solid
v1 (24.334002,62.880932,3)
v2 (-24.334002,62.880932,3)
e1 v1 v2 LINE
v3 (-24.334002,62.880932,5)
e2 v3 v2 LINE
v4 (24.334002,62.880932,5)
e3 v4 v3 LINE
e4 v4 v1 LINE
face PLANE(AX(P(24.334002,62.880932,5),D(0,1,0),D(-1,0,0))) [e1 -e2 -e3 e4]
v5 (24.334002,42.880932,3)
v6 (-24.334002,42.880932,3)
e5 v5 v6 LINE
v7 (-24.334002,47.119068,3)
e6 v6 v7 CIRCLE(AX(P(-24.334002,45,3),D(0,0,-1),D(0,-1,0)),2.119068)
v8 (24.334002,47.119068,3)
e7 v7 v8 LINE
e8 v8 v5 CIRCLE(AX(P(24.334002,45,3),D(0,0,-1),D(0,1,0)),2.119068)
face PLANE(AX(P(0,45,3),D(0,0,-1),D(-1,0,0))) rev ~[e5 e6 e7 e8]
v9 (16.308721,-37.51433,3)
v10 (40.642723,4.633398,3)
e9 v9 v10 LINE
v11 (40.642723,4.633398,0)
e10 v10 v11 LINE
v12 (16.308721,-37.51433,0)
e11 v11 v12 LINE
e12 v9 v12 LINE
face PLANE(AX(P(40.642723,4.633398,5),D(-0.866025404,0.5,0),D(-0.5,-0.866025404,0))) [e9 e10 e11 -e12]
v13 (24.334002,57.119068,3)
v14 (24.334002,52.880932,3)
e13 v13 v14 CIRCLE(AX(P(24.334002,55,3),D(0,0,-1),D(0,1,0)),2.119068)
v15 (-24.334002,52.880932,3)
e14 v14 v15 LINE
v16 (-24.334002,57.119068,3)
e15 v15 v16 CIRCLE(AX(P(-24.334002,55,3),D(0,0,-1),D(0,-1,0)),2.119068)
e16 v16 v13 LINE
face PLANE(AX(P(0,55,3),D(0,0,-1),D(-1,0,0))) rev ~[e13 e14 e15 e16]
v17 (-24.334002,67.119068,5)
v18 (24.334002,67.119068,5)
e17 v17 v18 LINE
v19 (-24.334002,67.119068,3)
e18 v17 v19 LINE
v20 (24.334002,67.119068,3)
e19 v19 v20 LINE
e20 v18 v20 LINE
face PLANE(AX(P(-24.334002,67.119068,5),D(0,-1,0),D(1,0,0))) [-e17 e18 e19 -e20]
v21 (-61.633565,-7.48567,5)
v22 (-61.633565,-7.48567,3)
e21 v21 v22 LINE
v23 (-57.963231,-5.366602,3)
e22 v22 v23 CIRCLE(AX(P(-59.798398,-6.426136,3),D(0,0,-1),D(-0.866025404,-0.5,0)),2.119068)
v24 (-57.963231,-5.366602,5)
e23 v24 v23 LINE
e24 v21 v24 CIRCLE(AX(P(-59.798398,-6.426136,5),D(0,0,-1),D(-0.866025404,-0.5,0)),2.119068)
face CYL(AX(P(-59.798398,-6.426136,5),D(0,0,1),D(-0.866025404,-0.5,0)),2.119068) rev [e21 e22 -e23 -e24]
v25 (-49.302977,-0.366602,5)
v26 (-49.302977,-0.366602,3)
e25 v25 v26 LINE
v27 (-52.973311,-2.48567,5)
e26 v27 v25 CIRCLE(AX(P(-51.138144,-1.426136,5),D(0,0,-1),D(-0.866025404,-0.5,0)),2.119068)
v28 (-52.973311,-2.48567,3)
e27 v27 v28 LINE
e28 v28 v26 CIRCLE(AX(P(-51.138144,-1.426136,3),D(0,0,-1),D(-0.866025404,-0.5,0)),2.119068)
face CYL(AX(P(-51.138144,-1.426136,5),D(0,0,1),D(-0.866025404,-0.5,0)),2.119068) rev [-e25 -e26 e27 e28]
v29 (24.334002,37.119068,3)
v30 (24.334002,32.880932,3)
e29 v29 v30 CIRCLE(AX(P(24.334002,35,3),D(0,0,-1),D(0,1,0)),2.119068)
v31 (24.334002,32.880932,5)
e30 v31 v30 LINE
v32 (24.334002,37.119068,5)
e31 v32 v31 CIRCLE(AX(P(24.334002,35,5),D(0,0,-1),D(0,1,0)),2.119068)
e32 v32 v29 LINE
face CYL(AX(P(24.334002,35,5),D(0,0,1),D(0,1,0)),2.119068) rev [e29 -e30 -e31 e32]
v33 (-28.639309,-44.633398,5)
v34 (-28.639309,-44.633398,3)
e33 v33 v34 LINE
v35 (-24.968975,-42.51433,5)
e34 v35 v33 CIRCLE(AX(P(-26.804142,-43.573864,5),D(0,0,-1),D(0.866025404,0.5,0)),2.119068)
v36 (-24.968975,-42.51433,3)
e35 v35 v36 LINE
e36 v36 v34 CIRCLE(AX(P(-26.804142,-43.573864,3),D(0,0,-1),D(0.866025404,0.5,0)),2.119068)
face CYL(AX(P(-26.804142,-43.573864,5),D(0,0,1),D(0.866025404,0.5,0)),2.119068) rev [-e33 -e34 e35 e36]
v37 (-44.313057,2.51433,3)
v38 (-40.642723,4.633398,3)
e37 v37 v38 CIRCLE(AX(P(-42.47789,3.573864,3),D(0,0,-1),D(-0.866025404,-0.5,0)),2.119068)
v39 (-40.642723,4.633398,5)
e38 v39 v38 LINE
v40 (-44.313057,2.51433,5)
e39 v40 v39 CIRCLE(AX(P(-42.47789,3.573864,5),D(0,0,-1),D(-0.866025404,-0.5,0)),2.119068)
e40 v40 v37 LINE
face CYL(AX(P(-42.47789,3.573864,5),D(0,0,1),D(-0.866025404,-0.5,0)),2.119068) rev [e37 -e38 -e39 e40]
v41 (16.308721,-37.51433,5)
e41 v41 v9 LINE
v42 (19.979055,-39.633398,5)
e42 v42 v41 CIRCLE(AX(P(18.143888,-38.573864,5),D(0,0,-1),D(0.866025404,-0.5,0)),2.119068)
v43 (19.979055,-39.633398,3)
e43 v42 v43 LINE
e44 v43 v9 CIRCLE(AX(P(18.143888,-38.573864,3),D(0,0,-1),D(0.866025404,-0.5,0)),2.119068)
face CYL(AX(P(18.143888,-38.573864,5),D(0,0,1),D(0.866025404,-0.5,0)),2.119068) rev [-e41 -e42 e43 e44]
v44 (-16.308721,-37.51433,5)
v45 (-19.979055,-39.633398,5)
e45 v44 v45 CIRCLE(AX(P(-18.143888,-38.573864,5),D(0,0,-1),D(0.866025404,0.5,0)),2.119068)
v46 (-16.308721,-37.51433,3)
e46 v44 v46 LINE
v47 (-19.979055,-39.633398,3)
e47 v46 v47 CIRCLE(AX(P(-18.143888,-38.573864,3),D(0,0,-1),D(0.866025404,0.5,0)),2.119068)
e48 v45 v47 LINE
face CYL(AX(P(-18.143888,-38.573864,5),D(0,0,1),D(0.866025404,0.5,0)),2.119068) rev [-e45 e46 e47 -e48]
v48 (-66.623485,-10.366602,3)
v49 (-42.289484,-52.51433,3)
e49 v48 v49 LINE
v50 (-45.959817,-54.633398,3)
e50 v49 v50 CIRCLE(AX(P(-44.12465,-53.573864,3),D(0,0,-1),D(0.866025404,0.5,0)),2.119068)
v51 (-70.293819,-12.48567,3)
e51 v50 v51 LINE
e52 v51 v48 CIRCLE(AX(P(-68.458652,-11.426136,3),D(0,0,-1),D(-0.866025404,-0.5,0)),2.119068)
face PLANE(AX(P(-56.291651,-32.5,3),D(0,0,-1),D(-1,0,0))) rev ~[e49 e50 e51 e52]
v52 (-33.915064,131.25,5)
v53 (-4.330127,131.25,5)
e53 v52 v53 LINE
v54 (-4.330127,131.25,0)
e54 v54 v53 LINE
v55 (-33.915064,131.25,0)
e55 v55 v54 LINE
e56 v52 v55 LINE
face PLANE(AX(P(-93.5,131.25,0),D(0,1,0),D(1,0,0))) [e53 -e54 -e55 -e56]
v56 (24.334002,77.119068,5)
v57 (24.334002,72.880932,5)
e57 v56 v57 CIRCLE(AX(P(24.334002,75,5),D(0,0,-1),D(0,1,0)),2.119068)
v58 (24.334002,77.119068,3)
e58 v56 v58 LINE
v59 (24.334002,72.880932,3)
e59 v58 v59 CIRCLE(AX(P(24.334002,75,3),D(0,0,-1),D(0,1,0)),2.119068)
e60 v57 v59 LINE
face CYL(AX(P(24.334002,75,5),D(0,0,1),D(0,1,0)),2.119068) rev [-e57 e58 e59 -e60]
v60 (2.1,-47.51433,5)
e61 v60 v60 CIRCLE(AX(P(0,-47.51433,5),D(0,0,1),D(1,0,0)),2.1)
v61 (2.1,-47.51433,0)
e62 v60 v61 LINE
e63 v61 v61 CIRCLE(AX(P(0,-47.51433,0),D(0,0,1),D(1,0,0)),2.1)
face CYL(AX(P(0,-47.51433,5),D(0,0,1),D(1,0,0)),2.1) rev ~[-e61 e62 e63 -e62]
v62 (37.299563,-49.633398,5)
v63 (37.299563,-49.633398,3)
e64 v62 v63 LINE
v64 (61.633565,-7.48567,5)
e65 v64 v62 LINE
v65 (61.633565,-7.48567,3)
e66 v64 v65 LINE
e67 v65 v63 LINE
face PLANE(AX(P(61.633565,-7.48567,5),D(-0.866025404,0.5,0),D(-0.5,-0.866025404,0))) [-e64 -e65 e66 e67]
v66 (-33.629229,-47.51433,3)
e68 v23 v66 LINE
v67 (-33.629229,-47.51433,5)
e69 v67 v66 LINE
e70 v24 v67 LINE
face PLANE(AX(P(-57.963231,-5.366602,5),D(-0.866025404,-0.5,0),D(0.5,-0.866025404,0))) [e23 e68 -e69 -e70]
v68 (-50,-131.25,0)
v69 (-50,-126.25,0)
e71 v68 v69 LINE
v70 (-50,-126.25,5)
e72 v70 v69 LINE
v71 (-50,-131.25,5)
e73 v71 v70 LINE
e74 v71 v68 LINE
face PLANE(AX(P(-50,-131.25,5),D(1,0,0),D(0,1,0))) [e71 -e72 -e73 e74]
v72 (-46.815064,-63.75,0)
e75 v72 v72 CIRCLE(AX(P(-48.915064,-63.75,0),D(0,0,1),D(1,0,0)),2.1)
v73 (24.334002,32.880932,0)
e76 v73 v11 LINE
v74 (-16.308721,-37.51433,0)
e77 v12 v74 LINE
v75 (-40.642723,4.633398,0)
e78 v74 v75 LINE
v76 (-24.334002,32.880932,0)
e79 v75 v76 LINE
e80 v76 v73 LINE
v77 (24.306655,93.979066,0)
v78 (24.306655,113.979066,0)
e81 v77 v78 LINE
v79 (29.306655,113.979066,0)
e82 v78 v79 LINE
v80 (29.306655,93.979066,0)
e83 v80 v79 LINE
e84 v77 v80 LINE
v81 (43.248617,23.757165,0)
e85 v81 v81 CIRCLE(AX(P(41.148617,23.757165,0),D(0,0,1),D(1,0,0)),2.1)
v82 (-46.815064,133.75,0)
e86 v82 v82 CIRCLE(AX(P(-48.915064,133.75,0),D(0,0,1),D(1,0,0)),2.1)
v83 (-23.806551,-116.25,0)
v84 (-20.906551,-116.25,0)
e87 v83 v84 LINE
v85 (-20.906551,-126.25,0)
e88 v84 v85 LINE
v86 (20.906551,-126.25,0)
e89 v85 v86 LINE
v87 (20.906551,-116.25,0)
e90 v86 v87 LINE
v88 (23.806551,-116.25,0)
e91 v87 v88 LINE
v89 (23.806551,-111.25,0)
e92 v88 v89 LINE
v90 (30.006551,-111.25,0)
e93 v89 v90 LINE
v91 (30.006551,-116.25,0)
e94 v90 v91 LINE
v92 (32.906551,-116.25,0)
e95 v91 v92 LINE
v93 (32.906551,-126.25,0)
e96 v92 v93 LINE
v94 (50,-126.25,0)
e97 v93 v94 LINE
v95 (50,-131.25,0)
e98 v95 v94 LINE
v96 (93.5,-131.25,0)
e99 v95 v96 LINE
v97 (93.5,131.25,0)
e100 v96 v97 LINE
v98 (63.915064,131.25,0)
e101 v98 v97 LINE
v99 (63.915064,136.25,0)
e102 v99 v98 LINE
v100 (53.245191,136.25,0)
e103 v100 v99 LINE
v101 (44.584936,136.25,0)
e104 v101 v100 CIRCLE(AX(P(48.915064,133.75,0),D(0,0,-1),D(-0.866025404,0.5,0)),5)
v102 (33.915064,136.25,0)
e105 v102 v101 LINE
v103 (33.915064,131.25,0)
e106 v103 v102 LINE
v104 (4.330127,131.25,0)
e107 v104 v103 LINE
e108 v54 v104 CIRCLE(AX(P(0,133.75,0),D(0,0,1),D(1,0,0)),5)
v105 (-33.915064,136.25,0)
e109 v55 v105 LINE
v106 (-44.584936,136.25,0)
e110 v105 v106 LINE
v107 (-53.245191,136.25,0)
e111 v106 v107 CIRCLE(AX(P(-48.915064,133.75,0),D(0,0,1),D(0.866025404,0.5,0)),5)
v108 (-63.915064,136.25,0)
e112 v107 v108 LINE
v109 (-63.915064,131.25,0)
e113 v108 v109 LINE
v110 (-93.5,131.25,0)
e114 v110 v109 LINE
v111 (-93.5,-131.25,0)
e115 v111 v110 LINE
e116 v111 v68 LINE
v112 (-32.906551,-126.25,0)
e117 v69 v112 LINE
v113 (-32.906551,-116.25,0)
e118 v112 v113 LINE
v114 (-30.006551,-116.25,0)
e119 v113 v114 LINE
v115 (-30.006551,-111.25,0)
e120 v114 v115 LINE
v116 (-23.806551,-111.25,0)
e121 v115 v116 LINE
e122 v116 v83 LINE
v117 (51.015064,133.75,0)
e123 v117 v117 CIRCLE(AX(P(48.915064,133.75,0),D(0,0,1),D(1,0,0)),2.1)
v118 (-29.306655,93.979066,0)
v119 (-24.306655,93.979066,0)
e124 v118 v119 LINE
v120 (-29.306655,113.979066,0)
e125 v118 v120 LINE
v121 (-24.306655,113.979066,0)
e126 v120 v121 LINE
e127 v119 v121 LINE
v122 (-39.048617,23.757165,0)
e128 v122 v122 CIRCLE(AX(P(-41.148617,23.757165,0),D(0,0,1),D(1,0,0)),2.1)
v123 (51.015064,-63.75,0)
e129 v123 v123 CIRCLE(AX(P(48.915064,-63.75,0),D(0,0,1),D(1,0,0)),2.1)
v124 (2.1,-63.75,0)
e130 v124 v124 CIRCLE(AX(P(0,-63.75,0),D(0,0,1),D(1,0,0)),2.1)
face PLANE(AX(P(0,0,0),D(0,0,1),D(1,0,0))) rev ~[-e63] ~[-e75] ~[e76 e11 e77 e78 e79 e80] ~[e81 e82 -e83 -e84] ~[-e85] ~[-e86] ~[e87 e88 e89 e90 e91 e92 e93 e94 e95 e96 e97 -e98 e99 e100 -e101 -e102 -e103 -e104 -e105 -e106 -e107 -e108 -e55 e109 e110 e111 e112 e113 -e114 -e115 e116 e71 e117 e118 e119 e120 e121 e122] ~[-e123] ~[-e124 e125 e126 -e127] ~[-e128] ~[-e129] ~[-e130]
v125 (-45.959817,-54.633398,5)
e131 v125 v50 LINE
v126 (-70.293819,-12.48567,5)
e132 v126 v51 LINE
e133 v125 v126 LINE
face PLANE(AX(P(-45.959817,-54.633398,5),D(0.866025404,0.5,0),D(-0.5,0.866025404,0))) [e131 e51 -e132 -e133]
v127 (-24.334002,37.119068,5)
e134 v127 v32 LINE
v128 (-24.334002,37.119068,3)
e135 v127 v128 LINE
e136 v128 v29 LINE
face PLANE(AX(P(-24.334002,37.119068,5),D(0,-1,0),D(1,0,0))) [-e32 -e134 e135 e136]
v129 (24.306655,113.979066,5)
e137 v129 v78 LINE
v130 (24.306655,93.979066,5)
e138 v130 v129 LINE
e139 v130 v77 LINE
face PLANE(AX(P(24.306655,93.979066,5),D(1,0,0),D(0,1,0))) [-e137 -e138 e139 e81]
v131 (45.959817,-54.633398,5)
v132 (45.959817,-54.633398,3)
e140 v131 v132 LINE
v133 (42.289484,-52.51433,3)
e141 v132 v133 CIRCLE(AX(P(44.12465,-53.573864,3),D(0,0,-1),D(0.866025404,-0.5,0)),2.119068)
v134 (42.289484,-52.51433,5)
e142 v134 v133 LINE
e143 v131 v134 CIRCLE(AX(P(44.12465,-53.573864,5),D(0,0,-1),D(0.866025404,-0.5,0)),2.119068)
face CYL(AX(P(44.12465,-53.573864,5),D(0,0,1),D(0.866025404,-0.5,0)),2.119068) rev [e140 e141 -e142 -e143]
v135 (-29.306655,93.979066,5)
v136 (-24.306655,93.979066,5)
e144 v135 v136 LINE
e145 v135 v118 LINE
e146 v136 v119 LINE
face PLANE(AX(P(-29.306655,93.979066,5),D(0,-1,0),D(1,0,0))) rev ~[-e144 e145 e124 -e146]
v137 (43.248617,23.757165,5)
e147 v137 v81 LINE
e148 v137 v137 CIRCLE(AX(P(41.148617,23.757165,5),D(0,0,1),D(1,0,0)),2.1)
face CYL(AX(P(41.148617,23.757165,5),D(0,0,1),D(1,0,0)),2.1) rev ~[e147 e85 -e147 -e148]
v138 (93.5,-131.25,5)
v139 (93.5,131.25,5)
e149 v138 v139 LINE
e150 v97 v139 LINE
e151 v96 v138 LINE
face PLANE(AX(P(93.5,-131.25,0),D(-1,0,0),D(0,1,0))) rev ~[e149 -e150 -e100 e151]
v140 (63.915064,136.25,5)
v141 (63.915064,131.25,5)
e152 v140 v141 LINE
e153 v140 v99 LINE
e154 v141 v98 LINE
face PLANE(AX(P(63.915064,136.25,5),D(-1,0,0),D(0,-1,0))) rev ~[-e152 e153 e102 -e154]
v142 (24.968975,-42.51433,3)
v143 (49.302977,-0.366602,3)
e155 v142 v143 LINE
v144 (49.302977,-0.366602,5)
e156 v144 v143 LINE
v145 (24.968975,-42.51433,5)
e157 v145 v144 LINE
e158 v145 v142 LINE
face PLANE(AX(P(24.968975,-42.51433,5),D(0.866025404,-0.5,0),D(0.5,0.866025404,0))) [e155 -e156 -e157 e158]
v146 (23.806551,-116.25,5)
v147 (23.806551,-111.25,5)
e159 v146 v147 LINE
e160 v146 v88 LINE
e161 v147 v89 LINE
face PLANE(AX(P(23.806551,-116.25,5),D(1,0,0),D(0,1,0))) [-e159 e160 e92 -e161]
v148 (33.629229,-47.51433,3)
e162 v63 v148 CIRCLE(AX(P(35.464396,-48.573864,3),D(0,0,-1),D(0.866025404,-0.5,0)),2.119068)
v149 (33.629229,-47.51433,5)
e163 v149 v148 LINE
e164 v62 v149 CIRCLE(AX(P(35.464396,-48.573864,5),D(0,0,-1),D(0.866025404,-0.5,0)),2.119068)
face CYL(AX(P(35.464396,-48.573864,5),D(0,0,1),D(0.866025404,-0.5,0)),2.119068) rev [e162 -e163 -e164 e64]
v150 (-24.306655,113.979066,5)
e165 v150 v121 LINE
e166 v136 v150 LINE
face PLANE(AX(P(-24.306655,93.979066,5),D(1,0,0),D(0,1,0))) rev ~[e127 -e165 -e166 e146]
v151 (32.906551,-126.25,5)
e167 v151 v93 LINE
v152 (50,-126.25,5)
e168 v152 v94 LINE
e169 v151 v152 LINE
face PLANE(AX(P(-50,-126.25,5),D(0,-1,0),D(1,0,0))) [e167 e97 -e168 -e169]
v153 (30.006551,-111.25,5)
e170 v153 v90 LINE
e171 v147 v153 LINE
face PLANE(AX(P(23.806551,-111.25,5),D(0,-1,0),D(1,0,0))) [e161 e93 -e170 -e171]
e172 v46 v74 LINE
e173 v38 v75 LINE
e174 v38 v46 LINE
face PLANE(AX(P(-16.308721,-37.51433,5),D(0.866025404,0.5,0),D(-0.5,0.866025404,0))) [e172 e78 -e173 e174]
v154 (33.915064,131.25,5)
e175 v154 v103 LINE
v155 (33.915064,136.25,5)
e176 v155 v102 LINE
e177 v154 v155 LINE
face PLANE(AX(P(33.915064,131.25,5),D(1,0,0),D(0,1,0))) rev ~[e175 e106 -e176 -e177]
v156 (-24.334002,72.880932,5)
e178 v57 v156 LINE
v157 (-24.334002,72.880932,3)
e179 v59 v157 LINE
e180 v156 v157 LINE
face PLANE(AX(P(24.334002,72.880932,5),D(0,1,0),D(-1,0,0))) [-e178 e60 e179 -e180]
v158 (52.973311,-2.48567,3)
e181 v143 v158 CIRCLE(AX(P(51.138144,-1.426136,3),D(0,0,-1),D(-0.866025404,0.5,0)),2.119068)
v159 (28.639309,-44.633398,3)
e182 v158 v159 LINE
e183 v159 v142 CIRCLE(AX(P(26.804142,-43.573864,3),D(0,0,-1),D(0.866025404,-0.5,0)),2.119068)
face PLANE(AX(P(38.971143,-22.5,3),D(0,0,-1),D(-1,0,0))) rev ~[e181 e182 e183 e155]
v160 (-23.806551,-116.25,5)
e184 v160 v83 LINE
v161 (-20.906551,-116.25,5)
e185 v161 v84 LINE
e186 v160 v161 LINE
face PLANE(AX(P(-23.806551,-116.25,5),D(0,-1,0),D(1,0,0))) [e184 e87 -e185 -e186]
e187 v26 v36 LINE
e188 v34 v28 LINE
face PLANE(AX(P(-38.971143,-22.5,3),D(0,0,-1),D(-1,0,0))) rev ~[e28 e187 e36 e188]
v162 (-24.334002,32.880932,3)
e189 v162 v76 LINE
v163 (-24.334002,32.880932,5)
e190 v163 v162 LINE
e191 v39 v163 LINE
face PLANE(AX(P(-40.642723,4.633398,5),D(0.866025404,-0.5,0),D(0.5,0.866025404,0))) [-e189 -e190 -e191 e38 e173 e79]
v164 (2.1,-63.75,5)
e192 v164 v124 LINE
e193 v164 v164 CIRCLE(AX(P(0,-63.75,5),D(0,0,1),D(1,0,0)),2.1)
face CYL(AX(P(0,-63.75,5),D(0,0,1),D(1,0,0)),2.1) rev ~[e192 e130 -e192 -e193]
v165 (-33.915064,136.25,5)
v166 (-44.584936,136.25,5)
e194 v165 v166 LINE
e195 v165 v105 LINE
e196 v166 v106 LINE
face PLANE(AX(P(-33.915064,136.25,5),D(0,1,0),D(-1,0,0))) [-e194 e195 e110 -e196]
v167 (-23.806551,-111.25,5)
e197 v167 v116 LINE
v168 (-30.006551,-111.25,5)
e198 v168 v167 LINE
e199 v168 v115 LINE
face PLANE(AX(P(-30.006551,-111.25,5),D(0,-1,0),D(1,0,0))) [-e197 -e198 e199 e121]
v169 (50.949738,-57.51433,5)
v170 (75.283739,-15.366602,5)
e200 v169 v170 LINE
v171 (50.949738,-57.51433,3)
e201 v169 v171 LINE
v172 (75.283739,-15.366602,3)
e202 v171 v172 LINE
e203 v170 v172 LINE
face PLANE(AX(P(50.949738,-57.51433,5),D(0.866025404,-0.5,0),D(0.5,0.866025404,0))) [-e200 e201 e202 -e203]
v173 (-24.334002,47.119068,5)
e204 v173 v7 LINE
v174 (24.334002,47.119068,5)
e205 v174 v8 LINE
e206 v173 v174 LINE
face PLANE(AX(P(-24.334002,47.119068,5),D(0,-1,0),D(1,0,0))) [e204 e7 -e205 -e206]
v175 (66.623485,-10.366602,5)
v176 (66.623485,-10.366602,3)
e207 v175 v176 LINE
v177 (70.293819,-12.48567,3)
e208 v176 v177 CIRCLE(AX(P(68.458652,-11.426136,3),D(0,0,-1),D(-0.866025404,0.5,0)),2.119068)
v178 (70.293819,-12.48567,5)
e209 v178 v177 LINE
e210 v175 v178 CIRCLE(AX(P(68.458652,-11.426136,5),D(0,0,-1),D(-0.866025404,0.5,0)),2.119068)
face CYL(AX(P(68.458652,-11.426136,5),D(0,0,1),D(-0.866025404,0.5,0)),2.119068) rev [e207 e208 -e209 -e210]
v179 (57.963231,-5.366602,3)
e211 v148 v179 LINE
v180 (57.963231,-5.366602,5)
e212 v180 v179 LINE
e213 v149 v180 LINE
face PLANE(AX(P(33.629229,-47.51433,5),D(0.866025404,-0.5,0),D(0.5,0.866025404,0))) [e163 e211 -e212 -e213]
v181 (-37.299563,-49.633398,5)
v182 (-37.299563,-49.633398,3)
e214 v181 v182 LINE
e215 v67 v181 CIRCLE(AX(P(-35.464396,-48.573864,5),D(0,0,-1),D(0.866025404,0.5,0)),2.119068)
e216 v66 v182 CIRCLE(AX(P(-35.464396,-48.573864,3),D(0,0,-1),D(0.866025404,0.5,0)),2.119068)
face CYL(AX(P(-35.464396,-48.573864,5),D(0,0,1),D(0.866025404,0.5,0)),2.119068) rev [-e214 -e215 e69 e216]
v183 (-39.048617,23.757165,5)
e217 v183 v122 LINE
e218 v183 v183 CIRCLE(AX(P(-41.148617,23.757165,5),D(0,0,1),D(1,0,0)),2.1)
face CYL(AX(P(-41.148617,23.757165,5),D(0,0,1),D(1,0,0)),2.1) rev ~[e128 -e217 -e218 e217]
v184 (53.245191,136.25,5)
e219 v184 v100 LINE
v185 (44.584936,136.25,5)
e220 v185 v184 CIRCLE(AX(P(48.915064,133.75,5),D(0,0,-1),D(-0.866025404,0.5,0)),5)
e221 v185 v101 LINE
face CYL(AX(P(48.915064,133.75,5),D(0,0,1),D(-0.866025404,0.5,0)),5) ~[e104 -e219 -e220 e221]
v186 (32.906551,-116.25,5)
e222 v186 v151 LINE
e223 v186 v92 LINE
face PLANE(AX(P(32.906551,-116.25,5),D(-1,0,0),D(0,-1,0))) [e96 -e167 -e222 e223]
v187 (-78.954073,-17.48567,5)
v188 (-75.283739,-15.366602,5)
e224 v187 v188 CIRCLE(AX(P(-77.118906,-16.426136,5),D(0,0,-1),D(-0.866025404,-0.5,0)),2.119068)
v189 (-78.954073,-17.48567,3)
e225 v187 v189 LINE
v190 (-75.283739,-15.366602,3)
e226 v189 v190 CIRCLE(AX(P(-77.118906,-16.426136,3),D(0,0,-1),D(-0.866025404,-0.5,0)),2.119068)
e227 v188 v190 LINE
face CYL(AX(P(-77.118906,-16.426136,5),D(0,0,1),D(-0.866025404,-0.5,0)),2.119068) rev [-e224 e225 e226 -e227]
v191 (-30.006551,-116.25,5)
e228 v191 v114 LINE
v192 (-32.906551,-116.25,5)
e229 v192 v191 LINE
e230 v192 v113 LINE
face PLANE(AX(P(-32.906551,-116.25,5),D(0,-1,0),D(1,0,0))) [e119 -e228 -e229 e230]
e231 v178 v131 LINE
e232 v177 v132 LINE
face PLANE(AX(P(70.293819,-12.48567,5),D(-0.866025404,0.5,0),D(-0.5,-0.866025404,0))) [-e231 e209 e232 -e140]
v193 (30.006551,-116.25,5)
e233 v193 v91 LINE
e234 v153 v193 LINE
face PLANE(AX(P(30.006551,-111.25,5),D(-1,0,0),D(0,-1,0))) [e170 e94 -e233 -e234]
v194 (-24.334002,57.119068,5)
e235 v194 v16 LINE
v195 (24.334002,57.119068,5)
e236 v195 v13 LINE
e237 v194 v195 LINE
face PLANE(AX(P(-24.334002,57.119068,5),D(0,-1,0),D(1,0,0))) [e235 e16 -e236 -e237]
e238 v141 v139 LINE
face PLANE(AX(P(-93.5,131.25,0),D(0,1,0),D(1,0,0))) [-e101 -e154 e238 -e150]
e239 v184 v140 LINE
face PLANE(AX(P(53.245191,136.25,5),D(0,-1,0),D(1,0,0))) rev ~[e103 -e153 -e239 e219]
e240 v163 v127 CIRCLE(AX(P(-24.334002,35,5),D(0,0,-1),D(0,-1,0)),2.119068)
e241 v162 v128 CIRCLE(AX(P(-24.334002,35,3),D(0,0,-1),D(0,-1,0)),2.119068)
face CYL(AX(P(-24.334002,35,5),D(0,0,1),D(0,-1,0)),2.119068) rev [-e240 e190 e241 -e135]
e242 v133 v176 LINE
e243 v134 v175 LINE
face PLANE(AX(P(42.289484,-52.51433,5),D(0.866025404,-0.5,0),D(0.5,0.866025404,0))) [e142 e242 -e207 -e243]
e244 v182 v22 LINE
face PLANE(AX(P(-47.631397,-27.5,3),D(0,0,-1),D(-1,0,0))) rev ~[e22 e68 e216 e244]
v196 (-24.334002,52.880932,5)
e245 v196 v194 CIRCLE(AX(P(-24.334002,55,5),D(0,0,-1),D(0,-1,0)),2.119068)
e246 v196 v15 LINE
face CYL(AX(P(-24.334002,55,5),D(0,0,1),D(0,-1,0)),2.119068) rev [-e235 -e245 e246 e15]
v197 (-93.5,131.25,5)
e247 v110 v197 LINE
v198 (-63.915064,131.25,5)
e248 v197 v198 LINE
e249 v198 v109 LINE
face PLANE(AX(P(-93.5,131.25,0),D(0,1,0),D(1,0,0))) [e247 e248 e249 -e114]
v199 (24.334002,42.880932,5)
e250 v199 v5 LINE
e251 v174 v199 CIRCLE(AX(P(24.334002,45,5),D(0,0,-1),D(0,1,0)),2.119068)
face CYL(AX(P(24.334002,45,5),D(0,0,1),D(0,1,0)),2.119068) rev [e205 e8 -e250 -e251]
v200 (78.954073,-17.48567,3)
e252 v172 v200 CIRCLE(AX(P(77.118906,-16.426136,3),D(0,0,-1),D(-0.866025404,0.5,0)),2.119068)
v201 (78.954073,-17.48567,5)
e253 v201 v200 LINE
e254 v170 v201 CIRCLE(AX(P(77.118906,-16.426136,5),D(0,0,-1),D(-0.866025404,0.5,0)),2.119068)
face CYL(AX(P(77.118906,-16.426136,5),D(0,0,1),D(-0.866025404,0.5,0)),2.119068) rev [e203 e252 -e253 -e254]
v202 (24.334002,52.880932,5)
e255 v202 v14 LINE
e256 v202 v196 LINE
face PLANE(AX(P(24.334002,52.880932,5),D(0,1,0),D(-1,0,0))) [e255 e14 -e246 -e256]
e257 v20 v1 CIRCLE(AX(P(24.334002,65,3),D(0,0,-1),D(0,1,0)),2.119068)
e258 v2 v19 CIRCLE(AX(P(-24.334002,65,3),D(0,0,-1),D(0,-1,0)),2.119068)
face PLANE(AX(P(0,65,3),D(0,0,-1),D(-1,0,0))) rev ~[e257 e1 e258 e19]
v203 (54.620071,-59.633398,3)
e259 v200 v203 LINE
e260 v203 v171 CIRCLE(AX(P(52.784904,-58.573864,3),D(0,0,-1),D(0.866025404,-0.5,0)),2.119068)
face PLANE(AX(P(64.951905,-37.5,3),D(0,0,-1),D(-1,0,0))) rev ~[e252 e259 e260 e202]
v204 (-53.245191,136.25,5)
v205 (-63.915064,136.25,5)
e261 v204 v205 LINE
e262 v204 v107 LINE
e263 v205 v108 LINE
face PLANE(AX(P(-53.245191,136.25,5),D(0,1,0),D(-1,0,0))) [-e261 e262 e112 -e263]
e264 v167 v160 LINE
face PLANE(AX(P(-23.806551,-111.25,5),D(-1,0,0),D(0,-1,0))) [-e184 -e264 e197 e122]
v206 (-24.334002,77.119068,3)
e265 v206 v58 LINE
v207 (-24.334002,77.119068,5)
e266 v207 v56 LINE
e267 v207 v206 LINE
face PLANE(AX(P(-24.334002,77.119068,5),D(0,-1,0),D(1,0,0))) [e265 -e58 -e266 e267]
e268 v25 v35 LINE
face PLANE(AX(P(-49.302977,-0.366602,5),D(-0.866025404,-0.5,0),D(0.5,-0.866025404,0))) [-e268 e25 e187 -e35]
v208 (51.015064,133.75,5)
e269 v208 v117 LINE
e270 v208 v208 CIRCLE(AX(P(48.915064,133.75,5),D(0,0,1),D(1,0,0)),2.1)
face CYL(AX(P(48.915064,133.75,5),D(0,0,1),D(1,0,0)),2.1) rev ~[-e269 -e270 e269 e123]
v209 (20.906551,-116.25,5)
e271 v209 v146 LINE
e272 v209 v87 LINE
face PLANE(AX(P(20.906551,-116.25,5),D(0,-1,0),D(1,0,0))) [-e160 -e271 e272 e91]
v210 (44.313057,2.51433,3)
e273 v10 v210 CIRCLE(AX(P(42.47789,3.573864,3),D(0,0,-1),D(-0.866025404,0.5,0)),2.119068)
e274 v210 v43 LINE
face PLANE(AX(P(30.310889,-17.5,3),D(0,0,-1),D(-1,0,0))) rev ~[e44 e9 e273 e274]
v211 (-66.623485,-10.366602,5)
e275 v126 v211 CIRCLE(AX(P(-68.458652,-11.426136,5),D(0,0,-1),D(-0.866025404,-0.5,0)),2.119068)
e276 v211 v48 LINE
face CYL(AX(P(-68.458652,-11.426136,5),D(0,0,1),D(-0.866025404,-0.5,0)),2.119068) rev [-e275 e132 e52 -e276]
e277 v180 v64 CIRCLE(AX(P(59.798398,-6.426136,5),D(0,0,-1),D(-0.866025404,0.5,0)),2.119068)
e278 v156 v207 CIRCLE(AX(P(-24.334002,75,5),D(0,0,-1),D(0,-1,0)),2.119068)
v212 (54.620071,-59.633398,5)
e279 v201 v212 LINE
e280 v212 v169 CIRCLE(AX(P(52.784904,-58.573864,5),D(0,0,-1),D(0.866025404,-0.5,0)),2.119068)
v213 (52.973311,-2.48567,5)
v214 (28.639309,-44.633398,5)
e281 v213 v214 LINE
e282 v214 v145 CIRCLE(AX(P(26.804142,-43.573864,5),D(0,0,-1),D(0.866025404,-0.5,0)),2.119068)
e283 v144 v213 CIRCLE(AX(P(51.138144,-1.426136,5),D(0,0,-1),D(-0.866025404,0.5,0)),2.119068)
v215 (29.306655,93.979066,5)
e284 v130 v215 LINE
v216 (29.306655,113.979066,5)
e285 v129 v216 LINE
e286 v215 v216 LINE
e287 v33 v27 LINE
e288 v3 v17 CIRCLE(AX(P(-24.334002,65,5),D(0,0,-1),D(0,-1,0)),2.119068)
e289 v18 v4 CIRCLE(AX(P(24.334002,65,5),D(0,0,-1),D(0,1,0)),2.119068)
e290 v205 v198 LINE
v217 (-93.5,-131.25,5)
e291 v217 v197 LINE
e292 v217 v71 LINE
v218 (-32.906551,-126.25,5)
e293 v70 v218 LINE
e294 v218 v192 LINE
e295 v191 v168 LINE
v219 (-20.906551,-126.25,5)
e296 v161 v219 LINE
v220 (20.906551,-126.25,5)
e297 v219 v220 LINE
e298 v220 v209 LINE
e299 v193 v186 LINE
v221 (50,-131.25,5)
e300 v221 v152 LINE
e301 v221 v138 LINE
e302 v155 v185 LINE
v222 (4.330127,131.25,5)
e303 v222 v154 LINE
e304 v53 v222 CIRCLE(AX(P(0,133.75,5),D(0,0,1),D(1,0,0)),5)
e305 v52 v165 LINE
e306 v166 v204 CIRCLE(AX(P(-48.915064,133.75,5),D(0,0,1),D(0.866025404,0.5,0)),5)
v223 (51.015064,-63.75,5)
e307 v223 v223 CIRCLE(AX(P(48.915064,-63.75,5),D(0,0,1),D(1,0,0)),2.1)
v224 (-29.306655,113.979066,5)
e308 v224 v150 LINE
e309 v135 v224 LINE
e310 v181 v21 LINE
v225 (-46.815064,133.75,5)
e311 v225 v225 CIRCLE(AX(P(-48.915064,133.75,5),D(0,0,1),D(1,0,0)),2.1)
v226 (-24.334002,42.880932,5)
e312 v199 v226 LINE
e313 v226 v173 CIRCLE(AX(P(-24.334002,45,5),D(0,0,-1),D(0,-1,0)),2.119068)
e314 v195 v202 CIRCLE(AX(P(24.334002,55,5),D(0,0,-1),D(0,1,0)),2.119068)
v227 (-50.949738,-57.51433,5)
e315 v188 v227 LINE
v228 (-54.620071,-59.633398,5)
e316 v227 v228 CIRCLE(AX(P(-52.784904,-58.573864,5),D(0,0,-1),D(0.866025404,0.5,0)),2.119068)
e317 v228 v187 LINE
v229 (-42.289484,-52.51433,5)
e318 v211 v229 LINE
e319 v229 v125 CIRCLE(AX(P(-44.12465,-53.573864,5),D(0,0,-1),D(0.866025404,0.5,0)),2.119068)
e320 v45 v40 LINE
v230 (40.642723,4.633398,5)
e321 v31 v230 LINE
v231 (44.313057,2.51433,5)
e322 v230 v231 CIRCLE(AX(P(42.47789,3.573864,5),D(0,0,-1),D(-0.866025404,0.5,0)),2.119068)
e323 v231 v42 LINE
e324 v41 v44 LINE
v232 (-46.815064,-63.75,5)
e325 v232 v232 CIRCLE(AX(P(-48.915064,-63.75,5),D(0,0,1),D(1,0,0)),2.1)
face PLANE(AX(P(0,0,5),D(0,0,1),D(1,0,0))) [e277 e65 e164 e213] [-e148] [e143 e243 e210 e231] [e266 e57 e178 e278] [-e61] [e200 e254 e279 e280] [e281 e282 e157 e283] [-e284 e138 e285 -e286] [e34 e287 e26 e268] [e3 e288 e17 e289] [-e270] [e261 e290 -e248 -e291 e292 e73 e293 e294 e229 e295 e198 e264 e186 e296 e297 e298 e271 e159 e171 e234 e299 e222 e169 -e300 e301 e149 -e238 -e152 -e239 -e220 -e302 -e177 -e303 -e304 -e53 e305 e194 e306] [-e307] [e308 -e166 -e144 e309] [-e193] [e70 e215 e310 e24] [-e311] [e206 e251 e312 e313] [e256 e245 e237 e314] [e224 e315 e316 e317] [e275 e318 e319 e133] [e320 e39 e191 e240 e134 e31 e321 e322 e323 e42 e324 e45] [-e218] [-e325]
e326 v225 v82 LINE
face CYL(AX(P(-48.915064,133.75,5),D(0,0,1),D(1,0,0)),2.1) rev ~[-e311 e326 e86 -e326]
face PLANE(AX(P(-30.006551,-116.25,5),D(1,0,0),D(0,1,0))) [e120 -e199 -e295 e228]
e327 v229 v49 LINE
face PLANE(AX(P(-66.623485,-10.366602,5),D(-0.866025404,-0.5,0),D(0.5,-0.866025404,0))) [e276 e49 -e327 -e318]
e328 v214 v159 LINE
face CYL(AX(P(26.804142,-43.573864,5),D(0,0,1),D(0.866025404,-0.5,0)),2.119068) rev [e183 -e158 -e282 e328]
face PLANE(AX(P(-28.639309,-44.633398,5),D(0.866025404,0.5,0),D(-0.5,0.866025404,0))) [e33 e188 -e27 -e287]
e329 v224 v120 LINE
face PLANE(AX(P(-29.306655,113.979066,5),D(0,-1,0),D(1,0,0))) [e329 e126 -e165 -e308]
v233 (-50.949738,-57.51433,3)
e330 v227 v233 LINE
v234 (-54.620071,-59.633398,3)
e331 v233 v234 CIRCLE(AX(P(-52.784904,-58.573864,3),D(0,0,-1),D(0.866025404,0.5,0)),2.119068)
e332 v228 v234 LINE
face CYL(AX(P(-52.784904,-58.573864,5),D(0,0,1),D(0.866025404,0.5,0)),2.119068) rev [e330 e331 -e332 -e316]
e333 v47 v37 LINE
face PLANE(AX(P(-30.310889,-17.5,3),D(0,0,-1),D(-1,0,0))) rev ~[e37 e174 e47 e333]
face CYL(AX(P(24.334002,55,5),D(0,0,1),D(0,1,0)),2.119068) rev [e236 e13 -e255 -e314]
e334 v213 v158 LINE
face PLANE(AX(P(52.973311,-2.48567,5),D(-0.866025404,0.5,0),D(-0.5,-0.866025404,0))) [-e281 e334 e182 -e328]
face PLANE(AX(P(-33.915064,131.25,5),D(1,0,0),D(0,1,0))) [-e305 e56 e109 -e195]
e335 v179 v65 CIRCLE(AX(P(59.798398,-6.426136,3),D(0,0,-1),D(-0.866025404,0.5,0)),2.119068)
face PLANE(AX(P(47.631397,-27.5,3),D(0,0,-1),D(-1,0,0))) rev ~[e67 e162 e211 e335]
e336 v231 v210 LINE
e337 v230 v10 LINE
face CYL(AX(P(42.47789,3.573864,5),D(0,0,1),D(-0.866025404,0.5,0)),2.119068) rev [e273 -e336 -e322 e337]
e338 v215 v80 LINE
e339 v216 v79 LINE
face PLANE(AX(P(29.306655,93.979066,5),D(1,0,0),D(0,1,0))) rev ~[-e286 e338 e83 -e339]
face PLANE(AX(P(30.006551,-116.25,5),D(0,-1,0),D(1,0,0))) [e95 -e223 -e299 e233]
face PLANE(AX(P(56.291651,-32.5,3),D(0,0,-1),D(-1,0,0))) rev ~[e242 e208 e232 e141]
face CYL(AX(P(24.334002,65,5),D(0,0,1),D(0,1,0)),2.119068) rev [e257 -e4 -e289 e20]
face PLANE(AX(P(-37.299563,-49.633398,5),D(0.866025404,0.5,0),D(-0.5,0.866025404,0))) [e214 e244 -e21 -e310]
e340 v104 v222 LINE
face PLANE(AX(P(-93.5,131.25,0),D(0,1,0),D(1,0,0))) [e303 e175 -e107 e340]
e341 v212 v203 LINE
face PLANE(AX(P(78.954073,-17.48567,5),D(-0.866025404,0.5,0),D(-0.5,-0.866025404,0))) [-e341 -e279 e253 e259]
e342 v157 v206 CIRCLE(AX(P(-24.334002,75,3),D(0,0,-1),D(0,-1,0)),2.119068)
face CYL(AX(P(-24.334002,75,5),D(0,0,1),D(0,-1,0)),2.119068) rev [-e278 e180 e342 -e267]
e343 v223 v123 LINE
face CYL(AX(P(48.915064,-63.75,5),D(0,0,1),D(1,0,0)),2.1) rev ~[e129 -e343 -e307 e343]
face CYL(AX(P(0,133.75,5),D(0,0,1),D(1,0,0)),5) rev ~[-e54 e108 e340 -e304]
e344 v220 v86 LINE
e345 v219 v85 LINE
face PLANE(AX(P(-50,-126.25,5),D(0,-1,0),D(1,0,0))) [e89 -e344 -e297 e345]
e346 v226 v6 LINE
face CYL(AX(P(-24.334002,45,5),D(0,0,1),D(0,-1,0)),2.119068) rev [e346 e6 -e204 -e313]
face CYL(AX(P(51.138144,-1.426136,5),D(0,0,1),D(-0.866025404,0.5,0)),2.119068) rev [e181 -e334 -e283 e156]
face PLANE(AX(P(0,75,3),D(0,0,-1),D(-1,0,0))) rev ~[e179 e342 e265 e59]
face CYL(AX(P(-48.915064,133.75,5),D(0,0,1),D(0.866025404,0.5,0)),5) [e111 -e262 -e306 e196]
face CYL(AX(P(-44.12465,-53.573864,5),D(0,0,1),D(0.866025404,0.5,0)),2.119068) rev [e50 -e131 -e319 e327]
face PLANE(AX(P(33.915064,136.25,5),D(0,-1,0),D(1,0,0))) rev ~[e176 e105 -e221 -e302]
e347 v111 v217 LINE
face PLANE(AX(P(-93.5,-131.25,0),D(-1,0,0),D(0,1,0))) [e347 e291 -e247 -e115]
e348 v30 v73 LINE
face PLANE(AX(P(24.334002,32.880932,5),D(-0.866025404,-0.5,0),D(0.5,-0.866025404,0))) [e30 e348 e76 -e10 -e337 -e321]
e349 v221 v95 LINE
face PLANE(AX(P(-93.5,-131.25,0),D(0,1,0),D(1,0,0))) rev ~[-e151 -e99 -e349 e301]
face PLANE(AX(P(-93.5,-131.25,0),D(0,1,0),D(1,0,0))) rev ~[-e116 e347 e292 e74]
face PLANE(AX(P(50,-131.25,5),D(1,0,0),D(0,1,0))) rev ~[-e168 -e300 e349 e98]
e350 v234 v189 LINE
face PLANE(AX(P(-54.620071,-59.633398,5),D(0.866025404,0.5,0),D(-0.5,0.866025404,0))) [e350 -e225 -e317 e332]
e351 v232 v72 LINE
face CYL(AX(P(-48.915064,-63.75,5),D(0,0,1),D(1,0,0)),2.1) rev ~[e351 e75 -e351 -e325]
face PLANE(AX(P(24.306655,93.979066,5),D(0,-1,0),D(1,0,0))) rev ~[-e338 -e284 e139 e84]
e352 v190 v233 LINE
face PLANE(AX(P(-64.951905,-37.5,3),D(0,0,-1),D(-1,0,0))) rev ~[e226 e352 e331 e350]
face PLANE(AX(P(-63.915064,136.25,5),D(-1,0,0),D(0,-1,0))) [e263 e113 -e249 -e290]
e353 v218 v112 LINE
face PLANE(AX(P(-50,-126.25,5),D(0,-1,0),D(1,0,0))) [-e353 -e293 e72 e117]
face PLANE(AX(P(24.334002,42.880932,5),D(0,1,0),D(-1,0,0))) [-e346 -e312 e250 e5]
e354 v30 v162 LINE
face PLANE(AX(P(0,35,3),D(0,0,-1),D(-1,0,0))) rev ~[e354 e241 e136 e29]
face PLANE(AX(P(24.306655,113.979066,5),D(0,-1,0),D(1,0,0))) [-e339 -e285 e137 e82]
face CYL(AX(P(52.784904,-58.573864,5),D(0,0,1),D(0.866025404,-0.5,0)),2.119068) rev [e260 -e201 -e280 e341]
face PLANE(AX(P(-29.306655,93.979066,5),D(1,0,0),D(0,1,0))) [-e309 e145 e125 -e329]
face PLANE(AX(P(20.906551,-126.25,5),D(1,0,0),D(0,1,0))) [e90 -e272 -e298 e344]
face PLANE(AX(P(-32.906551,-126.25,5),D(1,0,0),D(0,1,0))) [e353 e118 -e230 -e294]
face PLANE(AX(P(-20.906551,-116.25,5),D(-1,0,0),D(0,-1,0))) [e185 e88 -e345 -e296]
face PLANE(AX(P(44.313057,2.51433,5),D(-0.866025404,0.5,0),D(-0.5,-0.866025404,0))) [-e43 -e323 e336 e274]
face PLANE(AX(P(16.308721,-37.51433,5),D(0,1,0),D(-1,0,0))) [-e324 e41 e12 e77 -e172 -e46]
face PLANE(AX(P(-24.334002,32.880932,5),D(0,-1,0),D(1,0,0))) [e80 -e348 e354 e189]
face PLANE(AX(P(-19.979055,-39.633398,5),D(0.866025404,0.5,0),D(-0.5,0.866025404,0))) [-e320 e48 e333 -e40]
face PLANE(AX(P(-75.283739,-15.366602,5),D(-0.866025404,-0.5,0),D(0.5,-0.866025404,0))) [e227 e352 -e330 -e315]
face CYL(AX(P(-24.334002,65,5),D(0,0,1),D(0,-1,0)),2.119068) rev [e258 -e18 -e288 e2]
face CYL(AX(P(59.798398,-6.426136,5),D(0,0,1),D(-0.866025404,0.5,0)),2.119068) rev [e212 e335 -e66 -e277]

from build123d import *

# Parameters (mm, degrees)
SKETCH1_W           = 187
SKETCH1_H           = 262.5
BOSS_EXTRUDE1_DEPTH = 5
SKETCH2_R           = 5
SKETCH2_W           = 100
SKETCH2_H           = 5
CUT_EXTRUDE1_DEPTH  = 5
BOSS_EXTRUDE2_DEPTH = 5
SKETCH3_R           = 2.1
CUT_EXTRUDE2_DEPTH  = 5
CUT_EXTRUDE3_DEPTH  = 2
CUT_EXTRUDE4_DEPTH  = 6
SKETCH8_R           = 2.1
SKETCH8_W           = 5
SKETCH8_H           = 20
CUT_EXTRUDE5_DEPTH  = 10


with BuildPart() as part:
    # Sketch1 → Boss-Extrude1 (new body)
    with BuildSketch(Plane.XY):
        Rectangle(SKETCH1_W, SKETCH1_H)
    extrude(amount=BOSS_EXTRUDE1_DEPTH)

    # Sketch2 → Cut-Extrude1 (cut)
    with BuildSketch(Plane.XY.offset(5)):
        with Locations((0, 133.75)):
            Circle(SKETCH2_R)
        with Locations((0, -128.75)):
            Rectangle(SKETCH2_W, SKETCH2_H)
    extrude(amount=-CUT_EXTRUDE1_DEPTH, mode=Mode.SUBTRACT)

    # Sketch4 → Boss-Extrude2 (add)
    with BuildSketch(Plane.XY.offset(5)):
        with BuildLine():
            Line((33.915063509, 136.25), (44.584936491, 136.25))
            ThreePointArc((44.584936491, 136.25), (48.915063509, 138.75), (53.245190528, 136.25))
            Line((53.245190528, 136.25), (63.915063509, 136.25))
            Line((63.915063509, 136.25), (63.915063509, 131.25))
            Line((63.915063509, 131.25), (33.915063509, 131.25))
            Line((33.915063509, 131.25), (33.915063509, 136.25))
        make_face()
        with BuildLine():
            Line((-53.245190528, 136.25), (-63.915063509, 136.25))
            Line((-63.915063509, 136.25), (-63.915063509, 131.25))
            Line((-63.915063509, 131.25), (-33.915063509, 131.25))
            Line((-33.915063509, 131.25), (-33.915063509, 136.25))
            Line((-33.915063509, 136.25), (-44.584936491, 136.25))
            ThreePointArc((-44.584936491, 136.25), (-48.915063509, 138.75), (-53.245190528, 136.25))
        make_face()
    extrude(amount=-BOSS_EXTRUDE2_DEPTH)

    # Sketch3 → Cut-Extrude2 (cut)
    with BuildSketch(Plane.XY.offset(5)):
        with Locations((-48.915063509, 133.75)):
            Circle(SKETCH3_R)
        with Locations((48.915063509, 133.75)):
            Circle(SKETCH3_R)
        with Locations((-48.915063509, -63.75)):
            Circle(SKETCH3_R)
        with Locations((0, -63.75)):
            Circle(SKETCH3_R)
        with Locations((48.915063509, -63.75)):
            Circle(SKETCH3_R)
        Polygon((-32.90655119, -126.25), (-32.90655119, -116.25), (-30.00655119, -116.25), (-30.00655119, -111.25), (-23.80655119, -111.25), (-23.80655119, -116.25), (-20.90655119, -116.25), (-20.90655119, -126.25), align=None)
        Polygon((32.90655119, -126.25), (20.90655119, -126.25), (20.90655119, -116.25), (23.80655119, -116.25), (23.80655119, -111.25), (30.00655119, -111.25), (30.00655119, -116.25), (32.90655119, -116.25), align=None)
    extrude(amount=-CUT_EXTRUDE2_DEPTH, mode=Mode.SUBTRACT)

    # Sketch5 → Cut-Extrude3 (cut)
    with BuildSketch(Plane.XY.offset(5)):
        with BuildLine():
            Line((-24.33400194, 77.119068048), (24.33400194, 77.119068048))
            ThreePointArc((24.33400194, 77.119068048), (26.453069989, 75), (24.33400194, 72.880931952))
            Line((24.33400194, 72.880931952), (-24.33400194, 72.880931952))
            ThreePointArc((-24.33400194, 72.880931952), (-26.453069989, 75), (-24.33400194, 77.119068048))
        make_face()
        with BuildLine():
            Line((-24.33400194, 67.119068048), (24.33400194, 67.119068048))
            ThreePointArc((24.33400194, 67.119068048), (26.453069989, 65), (24.33400194, 62.880931952))
            Line((24.33400194, 62.880931952), (-24.33400194, 62.880931952))
            ThreePointArc((-24.33400194, 62.880931952), (-26.453069989, 65), (-24.33400194, 67.119068048))
        make_face()
        with BuildLine():
            Line((-24.33400194, 57.119068048), (24.33400194, 57.119068048))
            ThreePointArc((24.33400194, 57.119068048), (26.453069989, 55), (24.33400194, 52.880931952))
            Line((24.33400194, 52.880931952), (-24.33400194, 52.880931952))
            ThreePointArc((-24.33400194, 52.880931952), (-26.453069989, 55), (-24.33400194, 57.119068048))
        make_face()
        with BuildLine():
            Line((-24.33400194, 47.119068048), (24.33400194, 47.119068048))
            ThreePointArc((24.33400194, 47.119068048), (26.453069989, 45), (24.33400194, 42.880931952))
            Line((24.33400194, 42.880931952), (-24.33400194, 42.880931952))
            ThreePointArc((-24.33400194, 42.880931952), (-26.453069989, 45), (-24.33400194, 47.119068048))
        make_face()
        with BuildLine():
            Line((-24.33400194, 37.119068048), (24.33400194, 37.119068048))
            ThreePointArc((24.33400194, 37.119068048), (26.453069989, 35), (24.33400194, 32.880931952))
            Line((24.33400194, 32.880931952), (-24.33400194, 32.880931952))
            ThreePointArc((-24.33400194, 32.880931952), (-26.453069989, 35), (-24.33400194, 37.119068048))
        make_face()
        with BuildLine():
            Line((-24.33400194, 27.119068048), (24.33400194, 27.119068048))
            ThreePointArc((24.33400194, 27.119068048), (26.453069989, 25), (24.33400194, 22.880931952))
            Line((24.33400194, 22.880931952), (-24.33400194, 22.880931952))
            ThreePointArc((-24.33400194, 22.880931952), (-26.453069989, 25), (-24.33400194, 27.119068048))
        make_face()
        with BuildLine():
            Line((78.954073016, -17.485670168), (54.620071076, -59.63339788))
            ThreePointArc((54.620071076, -59.63339788), (51.72537029, -60.409030618), (50.949737551, -57.514329832))
            Line((50.949737551, -57.514329832), (75.283739492, -15.36660212))
            ThreePointArc((75.283739492, -15.36660212), (78.178440278, -14.590969382), (78.954073016, -17.485670168))
        make_face()
        with BuildLine():
            Line((70.293818978, -12.485670168), (45.959817038, -54.63339788))
            ThreePointArc((45.959817038, -54.63339788), (43.065116252, -55.409030618), (42.289483514, -52.514329832))
            Line((42.289483514, -52.514329832), (66.623485454, -10.36660212))
            ThreePointArc((66.623485454, -10.36660212), (69.51818624, -9.590969382), (70.293818978, -12.485670168))
        make_face()
        with BuildLine():
            Line((61.633564941, -7.485670168), (37.299563, -49.63339788))
            ThreePointArc((37.299563, -49.63339788), (34.404862214, -50.409030618), (33.629229476, -47.514329832))
            Line((33.629229476, -47.514329832), (57.963231416, -5.36660212))
            ThreePointArc((57.963231416, -5.36660212), (60.857932202, -4.590969382), (61.633564941, -7.485670168))
        make_face()
        with BuildLine():
            Line((52.973310903, -2.485670168), (28.639308963, -44.63339788))
            ThreePointArc((28.639308963, -44.63339788), (25.744608176, -45.409030618), (24.968975438, -42.514329832))
            Line((24.968975438, -42.514329832), (49.302977378, -0.36660212))
            ThreePointArc((49.302977378, -0.36660212), (52.197678165, 0.409030618), (52.973310903, -2.485670168))
        make_face()
        with BuildLine():
            Line((44.313056865, 2.514329832), (19.979054925, -39.63339788))
            ThreePointArc((19.979054925, -39.63339788), (17.084354138, -40.409030618), (16.3087214, -37.514329832))
            Line((16.3087214, -37.514329832), (40.64272334, 4.63339788))
            ThreePointArc((40.64272334, 4.63339788), (43.537424127, 5.409030618), (44.313056865, 2.514329832))
        make_face()
        with BuildLine():
            Line((35.652802827, 7.514329832), (11.318800887, -34.63339788))
            ThreePointArc((11.318800887, -34.63339788), (8.4241001, -35.409030618), (7.648467362, -32.514329832))
            Line((7.648467362, -32.514329832), (31.982469302, 9.63339788))
            ThreePointArc((31.982469302, 9.63339788), (34.877170089, 10.409030618), (35.652802827, 7.514329832))
        make_face()
        with BuildLine():
            Line((-54.620071076, -59.63339788), (-78.954073016, -17.485670168))
            ThreePointArc((-78.954073016, -17.485670168), (-78.178440278, -14.590969382), (-75.283739492, -15.36660212))
            Line((-75.283739492, -15.36660212), (-50.949737551, -57.514329832))
            ThreePointArc((-50.949737551, -57.514329832), (-51.72537029, -60.409030618), (-54.620071076, -59.63339788))
        make_face()
        with BuildLine():
            Line((-45.959817038, -54.63339788), (-70.293818978, -12.485670168))
            ThreePointArc((-70.293818978, -12.485670168), (-69.51818624, -9.590969382), (-66.623485454, -10.36660212))
            Line((-66.623485454, -10.36660212), (-42.289483514, -52.514329832))
            ThreePointArc((-42.289483514, -52.514329832), (-43.065116252, -55.409030618), (-45.959817038, -54.63339788))
        make_face()
        with BuildLine():
            Line((-37.299563, -49.63339788), (-61.633564941, -7.485670168))
            ThreePointArc((-61.633564941, -7.485670168), (-60.857932202, -4.590969382), (-57.963231416, -5.36660212))
            Line((-57.963231416, -5.36660212), (-33.629229476, -47.514329832))
            ThreePointArc((-33.629229476, -47.514329832), (-34.404862214, -50.409030618), (-37.299563, -49.63339788))
        make_face()
        with BuildLine():
            Line((-28.639308963, -44.63339788), (-52.973310903, -2.485670168))
            ThreePointArc((-52.973310903, -2.485670168), (-52.197678165, 0.409030618), (-49.302977378, -0.36660212))
            Line((-49.302977378, -0.36660212), (-24.968975438, -42.514329832))
            ThreePointArc((-24.968975438, -42.514329832), (-25.744608176, -45.409030618), (-28.639308963, -44.63339788))
        make_face()
        with BuildLine():
            Line((-19.979054925, -39.63339788), (-44.313056865, 2.514329832))
            ThreePointArc((-44.313056865, 2.514329832), (-43.537424127, 5.409030618), (-40.64272334, 4.63339788))
            Line((-40.64272334, 4.63339788), (-16.3087214, -37.514329832))
            ThreePointArc((-16.3087214, -37.514329832), (-17.084354138, -40.409030618), (-19.979054925, -39.63339788))
        make_face()
        with BuildLine():
            Line((-11.318800887, -34.63339788), (-35.652802827, 7.514329832))
            ThreePointArc((-35.652802827, 7.514329832), (-34.877170089, 10.409030618), (-31.982469302, 9.63339788))
            Line((-31.982469302, 9.63339788), (-7.648467362, -32.514329832))
            ThreePointArc((-7.648467362, -32.514329832), (-8.4241001, -35.409030618), (-11.318800887, -34.63339788))
        make_face()
    extrude(amount=-CUT_EXTRUDE3_DEPTH, mode=Mode.SUBTRACT)

    # Sketch6 → Cut-Extrude4 (cut, through all)
    with BuildSketch(Plane.XY.offset(5)):
        Polygon((-24.33400194, 32.880931952), (24.33400194, 32.880931952), (40.64272334, 4.63339788), (16.3087214, -37.514329832), (-16.3087214, -37.514329832), (-40.64272334, 4.63339788), align=None)
    extrude(amount=-CUT_EXTRUDE4_DEPTH, mode=Mode.SUBTRACT)

    # Sketch8 → Cut-Extrude5 (cut)
    with BuildSketch(Plane.XY.offset(5)):
        with Locations((0, -47.514329832)):
            Circle(SKETCH8_R)
        with Locations((-41.148616678, 23.757164916)):
            Circle(SKETCH8_R)
        with Locations((41.148616678, 23.757164916)):
            Circle(SKETCH8_R)
        with Locations((-26.806655169, 103.979066034)):
            Rectangle(SKETCH8_W, SKETCH8_H)
        with Locations((26.806655169, 103.979066034)):
            Rectangle(SKETCH8_W, SKETCH8_H)
    extrude(amount=-CUT_EXTRUDE5_DEPTH, mode=Mode.SUBTRACT)


solid = part.part
